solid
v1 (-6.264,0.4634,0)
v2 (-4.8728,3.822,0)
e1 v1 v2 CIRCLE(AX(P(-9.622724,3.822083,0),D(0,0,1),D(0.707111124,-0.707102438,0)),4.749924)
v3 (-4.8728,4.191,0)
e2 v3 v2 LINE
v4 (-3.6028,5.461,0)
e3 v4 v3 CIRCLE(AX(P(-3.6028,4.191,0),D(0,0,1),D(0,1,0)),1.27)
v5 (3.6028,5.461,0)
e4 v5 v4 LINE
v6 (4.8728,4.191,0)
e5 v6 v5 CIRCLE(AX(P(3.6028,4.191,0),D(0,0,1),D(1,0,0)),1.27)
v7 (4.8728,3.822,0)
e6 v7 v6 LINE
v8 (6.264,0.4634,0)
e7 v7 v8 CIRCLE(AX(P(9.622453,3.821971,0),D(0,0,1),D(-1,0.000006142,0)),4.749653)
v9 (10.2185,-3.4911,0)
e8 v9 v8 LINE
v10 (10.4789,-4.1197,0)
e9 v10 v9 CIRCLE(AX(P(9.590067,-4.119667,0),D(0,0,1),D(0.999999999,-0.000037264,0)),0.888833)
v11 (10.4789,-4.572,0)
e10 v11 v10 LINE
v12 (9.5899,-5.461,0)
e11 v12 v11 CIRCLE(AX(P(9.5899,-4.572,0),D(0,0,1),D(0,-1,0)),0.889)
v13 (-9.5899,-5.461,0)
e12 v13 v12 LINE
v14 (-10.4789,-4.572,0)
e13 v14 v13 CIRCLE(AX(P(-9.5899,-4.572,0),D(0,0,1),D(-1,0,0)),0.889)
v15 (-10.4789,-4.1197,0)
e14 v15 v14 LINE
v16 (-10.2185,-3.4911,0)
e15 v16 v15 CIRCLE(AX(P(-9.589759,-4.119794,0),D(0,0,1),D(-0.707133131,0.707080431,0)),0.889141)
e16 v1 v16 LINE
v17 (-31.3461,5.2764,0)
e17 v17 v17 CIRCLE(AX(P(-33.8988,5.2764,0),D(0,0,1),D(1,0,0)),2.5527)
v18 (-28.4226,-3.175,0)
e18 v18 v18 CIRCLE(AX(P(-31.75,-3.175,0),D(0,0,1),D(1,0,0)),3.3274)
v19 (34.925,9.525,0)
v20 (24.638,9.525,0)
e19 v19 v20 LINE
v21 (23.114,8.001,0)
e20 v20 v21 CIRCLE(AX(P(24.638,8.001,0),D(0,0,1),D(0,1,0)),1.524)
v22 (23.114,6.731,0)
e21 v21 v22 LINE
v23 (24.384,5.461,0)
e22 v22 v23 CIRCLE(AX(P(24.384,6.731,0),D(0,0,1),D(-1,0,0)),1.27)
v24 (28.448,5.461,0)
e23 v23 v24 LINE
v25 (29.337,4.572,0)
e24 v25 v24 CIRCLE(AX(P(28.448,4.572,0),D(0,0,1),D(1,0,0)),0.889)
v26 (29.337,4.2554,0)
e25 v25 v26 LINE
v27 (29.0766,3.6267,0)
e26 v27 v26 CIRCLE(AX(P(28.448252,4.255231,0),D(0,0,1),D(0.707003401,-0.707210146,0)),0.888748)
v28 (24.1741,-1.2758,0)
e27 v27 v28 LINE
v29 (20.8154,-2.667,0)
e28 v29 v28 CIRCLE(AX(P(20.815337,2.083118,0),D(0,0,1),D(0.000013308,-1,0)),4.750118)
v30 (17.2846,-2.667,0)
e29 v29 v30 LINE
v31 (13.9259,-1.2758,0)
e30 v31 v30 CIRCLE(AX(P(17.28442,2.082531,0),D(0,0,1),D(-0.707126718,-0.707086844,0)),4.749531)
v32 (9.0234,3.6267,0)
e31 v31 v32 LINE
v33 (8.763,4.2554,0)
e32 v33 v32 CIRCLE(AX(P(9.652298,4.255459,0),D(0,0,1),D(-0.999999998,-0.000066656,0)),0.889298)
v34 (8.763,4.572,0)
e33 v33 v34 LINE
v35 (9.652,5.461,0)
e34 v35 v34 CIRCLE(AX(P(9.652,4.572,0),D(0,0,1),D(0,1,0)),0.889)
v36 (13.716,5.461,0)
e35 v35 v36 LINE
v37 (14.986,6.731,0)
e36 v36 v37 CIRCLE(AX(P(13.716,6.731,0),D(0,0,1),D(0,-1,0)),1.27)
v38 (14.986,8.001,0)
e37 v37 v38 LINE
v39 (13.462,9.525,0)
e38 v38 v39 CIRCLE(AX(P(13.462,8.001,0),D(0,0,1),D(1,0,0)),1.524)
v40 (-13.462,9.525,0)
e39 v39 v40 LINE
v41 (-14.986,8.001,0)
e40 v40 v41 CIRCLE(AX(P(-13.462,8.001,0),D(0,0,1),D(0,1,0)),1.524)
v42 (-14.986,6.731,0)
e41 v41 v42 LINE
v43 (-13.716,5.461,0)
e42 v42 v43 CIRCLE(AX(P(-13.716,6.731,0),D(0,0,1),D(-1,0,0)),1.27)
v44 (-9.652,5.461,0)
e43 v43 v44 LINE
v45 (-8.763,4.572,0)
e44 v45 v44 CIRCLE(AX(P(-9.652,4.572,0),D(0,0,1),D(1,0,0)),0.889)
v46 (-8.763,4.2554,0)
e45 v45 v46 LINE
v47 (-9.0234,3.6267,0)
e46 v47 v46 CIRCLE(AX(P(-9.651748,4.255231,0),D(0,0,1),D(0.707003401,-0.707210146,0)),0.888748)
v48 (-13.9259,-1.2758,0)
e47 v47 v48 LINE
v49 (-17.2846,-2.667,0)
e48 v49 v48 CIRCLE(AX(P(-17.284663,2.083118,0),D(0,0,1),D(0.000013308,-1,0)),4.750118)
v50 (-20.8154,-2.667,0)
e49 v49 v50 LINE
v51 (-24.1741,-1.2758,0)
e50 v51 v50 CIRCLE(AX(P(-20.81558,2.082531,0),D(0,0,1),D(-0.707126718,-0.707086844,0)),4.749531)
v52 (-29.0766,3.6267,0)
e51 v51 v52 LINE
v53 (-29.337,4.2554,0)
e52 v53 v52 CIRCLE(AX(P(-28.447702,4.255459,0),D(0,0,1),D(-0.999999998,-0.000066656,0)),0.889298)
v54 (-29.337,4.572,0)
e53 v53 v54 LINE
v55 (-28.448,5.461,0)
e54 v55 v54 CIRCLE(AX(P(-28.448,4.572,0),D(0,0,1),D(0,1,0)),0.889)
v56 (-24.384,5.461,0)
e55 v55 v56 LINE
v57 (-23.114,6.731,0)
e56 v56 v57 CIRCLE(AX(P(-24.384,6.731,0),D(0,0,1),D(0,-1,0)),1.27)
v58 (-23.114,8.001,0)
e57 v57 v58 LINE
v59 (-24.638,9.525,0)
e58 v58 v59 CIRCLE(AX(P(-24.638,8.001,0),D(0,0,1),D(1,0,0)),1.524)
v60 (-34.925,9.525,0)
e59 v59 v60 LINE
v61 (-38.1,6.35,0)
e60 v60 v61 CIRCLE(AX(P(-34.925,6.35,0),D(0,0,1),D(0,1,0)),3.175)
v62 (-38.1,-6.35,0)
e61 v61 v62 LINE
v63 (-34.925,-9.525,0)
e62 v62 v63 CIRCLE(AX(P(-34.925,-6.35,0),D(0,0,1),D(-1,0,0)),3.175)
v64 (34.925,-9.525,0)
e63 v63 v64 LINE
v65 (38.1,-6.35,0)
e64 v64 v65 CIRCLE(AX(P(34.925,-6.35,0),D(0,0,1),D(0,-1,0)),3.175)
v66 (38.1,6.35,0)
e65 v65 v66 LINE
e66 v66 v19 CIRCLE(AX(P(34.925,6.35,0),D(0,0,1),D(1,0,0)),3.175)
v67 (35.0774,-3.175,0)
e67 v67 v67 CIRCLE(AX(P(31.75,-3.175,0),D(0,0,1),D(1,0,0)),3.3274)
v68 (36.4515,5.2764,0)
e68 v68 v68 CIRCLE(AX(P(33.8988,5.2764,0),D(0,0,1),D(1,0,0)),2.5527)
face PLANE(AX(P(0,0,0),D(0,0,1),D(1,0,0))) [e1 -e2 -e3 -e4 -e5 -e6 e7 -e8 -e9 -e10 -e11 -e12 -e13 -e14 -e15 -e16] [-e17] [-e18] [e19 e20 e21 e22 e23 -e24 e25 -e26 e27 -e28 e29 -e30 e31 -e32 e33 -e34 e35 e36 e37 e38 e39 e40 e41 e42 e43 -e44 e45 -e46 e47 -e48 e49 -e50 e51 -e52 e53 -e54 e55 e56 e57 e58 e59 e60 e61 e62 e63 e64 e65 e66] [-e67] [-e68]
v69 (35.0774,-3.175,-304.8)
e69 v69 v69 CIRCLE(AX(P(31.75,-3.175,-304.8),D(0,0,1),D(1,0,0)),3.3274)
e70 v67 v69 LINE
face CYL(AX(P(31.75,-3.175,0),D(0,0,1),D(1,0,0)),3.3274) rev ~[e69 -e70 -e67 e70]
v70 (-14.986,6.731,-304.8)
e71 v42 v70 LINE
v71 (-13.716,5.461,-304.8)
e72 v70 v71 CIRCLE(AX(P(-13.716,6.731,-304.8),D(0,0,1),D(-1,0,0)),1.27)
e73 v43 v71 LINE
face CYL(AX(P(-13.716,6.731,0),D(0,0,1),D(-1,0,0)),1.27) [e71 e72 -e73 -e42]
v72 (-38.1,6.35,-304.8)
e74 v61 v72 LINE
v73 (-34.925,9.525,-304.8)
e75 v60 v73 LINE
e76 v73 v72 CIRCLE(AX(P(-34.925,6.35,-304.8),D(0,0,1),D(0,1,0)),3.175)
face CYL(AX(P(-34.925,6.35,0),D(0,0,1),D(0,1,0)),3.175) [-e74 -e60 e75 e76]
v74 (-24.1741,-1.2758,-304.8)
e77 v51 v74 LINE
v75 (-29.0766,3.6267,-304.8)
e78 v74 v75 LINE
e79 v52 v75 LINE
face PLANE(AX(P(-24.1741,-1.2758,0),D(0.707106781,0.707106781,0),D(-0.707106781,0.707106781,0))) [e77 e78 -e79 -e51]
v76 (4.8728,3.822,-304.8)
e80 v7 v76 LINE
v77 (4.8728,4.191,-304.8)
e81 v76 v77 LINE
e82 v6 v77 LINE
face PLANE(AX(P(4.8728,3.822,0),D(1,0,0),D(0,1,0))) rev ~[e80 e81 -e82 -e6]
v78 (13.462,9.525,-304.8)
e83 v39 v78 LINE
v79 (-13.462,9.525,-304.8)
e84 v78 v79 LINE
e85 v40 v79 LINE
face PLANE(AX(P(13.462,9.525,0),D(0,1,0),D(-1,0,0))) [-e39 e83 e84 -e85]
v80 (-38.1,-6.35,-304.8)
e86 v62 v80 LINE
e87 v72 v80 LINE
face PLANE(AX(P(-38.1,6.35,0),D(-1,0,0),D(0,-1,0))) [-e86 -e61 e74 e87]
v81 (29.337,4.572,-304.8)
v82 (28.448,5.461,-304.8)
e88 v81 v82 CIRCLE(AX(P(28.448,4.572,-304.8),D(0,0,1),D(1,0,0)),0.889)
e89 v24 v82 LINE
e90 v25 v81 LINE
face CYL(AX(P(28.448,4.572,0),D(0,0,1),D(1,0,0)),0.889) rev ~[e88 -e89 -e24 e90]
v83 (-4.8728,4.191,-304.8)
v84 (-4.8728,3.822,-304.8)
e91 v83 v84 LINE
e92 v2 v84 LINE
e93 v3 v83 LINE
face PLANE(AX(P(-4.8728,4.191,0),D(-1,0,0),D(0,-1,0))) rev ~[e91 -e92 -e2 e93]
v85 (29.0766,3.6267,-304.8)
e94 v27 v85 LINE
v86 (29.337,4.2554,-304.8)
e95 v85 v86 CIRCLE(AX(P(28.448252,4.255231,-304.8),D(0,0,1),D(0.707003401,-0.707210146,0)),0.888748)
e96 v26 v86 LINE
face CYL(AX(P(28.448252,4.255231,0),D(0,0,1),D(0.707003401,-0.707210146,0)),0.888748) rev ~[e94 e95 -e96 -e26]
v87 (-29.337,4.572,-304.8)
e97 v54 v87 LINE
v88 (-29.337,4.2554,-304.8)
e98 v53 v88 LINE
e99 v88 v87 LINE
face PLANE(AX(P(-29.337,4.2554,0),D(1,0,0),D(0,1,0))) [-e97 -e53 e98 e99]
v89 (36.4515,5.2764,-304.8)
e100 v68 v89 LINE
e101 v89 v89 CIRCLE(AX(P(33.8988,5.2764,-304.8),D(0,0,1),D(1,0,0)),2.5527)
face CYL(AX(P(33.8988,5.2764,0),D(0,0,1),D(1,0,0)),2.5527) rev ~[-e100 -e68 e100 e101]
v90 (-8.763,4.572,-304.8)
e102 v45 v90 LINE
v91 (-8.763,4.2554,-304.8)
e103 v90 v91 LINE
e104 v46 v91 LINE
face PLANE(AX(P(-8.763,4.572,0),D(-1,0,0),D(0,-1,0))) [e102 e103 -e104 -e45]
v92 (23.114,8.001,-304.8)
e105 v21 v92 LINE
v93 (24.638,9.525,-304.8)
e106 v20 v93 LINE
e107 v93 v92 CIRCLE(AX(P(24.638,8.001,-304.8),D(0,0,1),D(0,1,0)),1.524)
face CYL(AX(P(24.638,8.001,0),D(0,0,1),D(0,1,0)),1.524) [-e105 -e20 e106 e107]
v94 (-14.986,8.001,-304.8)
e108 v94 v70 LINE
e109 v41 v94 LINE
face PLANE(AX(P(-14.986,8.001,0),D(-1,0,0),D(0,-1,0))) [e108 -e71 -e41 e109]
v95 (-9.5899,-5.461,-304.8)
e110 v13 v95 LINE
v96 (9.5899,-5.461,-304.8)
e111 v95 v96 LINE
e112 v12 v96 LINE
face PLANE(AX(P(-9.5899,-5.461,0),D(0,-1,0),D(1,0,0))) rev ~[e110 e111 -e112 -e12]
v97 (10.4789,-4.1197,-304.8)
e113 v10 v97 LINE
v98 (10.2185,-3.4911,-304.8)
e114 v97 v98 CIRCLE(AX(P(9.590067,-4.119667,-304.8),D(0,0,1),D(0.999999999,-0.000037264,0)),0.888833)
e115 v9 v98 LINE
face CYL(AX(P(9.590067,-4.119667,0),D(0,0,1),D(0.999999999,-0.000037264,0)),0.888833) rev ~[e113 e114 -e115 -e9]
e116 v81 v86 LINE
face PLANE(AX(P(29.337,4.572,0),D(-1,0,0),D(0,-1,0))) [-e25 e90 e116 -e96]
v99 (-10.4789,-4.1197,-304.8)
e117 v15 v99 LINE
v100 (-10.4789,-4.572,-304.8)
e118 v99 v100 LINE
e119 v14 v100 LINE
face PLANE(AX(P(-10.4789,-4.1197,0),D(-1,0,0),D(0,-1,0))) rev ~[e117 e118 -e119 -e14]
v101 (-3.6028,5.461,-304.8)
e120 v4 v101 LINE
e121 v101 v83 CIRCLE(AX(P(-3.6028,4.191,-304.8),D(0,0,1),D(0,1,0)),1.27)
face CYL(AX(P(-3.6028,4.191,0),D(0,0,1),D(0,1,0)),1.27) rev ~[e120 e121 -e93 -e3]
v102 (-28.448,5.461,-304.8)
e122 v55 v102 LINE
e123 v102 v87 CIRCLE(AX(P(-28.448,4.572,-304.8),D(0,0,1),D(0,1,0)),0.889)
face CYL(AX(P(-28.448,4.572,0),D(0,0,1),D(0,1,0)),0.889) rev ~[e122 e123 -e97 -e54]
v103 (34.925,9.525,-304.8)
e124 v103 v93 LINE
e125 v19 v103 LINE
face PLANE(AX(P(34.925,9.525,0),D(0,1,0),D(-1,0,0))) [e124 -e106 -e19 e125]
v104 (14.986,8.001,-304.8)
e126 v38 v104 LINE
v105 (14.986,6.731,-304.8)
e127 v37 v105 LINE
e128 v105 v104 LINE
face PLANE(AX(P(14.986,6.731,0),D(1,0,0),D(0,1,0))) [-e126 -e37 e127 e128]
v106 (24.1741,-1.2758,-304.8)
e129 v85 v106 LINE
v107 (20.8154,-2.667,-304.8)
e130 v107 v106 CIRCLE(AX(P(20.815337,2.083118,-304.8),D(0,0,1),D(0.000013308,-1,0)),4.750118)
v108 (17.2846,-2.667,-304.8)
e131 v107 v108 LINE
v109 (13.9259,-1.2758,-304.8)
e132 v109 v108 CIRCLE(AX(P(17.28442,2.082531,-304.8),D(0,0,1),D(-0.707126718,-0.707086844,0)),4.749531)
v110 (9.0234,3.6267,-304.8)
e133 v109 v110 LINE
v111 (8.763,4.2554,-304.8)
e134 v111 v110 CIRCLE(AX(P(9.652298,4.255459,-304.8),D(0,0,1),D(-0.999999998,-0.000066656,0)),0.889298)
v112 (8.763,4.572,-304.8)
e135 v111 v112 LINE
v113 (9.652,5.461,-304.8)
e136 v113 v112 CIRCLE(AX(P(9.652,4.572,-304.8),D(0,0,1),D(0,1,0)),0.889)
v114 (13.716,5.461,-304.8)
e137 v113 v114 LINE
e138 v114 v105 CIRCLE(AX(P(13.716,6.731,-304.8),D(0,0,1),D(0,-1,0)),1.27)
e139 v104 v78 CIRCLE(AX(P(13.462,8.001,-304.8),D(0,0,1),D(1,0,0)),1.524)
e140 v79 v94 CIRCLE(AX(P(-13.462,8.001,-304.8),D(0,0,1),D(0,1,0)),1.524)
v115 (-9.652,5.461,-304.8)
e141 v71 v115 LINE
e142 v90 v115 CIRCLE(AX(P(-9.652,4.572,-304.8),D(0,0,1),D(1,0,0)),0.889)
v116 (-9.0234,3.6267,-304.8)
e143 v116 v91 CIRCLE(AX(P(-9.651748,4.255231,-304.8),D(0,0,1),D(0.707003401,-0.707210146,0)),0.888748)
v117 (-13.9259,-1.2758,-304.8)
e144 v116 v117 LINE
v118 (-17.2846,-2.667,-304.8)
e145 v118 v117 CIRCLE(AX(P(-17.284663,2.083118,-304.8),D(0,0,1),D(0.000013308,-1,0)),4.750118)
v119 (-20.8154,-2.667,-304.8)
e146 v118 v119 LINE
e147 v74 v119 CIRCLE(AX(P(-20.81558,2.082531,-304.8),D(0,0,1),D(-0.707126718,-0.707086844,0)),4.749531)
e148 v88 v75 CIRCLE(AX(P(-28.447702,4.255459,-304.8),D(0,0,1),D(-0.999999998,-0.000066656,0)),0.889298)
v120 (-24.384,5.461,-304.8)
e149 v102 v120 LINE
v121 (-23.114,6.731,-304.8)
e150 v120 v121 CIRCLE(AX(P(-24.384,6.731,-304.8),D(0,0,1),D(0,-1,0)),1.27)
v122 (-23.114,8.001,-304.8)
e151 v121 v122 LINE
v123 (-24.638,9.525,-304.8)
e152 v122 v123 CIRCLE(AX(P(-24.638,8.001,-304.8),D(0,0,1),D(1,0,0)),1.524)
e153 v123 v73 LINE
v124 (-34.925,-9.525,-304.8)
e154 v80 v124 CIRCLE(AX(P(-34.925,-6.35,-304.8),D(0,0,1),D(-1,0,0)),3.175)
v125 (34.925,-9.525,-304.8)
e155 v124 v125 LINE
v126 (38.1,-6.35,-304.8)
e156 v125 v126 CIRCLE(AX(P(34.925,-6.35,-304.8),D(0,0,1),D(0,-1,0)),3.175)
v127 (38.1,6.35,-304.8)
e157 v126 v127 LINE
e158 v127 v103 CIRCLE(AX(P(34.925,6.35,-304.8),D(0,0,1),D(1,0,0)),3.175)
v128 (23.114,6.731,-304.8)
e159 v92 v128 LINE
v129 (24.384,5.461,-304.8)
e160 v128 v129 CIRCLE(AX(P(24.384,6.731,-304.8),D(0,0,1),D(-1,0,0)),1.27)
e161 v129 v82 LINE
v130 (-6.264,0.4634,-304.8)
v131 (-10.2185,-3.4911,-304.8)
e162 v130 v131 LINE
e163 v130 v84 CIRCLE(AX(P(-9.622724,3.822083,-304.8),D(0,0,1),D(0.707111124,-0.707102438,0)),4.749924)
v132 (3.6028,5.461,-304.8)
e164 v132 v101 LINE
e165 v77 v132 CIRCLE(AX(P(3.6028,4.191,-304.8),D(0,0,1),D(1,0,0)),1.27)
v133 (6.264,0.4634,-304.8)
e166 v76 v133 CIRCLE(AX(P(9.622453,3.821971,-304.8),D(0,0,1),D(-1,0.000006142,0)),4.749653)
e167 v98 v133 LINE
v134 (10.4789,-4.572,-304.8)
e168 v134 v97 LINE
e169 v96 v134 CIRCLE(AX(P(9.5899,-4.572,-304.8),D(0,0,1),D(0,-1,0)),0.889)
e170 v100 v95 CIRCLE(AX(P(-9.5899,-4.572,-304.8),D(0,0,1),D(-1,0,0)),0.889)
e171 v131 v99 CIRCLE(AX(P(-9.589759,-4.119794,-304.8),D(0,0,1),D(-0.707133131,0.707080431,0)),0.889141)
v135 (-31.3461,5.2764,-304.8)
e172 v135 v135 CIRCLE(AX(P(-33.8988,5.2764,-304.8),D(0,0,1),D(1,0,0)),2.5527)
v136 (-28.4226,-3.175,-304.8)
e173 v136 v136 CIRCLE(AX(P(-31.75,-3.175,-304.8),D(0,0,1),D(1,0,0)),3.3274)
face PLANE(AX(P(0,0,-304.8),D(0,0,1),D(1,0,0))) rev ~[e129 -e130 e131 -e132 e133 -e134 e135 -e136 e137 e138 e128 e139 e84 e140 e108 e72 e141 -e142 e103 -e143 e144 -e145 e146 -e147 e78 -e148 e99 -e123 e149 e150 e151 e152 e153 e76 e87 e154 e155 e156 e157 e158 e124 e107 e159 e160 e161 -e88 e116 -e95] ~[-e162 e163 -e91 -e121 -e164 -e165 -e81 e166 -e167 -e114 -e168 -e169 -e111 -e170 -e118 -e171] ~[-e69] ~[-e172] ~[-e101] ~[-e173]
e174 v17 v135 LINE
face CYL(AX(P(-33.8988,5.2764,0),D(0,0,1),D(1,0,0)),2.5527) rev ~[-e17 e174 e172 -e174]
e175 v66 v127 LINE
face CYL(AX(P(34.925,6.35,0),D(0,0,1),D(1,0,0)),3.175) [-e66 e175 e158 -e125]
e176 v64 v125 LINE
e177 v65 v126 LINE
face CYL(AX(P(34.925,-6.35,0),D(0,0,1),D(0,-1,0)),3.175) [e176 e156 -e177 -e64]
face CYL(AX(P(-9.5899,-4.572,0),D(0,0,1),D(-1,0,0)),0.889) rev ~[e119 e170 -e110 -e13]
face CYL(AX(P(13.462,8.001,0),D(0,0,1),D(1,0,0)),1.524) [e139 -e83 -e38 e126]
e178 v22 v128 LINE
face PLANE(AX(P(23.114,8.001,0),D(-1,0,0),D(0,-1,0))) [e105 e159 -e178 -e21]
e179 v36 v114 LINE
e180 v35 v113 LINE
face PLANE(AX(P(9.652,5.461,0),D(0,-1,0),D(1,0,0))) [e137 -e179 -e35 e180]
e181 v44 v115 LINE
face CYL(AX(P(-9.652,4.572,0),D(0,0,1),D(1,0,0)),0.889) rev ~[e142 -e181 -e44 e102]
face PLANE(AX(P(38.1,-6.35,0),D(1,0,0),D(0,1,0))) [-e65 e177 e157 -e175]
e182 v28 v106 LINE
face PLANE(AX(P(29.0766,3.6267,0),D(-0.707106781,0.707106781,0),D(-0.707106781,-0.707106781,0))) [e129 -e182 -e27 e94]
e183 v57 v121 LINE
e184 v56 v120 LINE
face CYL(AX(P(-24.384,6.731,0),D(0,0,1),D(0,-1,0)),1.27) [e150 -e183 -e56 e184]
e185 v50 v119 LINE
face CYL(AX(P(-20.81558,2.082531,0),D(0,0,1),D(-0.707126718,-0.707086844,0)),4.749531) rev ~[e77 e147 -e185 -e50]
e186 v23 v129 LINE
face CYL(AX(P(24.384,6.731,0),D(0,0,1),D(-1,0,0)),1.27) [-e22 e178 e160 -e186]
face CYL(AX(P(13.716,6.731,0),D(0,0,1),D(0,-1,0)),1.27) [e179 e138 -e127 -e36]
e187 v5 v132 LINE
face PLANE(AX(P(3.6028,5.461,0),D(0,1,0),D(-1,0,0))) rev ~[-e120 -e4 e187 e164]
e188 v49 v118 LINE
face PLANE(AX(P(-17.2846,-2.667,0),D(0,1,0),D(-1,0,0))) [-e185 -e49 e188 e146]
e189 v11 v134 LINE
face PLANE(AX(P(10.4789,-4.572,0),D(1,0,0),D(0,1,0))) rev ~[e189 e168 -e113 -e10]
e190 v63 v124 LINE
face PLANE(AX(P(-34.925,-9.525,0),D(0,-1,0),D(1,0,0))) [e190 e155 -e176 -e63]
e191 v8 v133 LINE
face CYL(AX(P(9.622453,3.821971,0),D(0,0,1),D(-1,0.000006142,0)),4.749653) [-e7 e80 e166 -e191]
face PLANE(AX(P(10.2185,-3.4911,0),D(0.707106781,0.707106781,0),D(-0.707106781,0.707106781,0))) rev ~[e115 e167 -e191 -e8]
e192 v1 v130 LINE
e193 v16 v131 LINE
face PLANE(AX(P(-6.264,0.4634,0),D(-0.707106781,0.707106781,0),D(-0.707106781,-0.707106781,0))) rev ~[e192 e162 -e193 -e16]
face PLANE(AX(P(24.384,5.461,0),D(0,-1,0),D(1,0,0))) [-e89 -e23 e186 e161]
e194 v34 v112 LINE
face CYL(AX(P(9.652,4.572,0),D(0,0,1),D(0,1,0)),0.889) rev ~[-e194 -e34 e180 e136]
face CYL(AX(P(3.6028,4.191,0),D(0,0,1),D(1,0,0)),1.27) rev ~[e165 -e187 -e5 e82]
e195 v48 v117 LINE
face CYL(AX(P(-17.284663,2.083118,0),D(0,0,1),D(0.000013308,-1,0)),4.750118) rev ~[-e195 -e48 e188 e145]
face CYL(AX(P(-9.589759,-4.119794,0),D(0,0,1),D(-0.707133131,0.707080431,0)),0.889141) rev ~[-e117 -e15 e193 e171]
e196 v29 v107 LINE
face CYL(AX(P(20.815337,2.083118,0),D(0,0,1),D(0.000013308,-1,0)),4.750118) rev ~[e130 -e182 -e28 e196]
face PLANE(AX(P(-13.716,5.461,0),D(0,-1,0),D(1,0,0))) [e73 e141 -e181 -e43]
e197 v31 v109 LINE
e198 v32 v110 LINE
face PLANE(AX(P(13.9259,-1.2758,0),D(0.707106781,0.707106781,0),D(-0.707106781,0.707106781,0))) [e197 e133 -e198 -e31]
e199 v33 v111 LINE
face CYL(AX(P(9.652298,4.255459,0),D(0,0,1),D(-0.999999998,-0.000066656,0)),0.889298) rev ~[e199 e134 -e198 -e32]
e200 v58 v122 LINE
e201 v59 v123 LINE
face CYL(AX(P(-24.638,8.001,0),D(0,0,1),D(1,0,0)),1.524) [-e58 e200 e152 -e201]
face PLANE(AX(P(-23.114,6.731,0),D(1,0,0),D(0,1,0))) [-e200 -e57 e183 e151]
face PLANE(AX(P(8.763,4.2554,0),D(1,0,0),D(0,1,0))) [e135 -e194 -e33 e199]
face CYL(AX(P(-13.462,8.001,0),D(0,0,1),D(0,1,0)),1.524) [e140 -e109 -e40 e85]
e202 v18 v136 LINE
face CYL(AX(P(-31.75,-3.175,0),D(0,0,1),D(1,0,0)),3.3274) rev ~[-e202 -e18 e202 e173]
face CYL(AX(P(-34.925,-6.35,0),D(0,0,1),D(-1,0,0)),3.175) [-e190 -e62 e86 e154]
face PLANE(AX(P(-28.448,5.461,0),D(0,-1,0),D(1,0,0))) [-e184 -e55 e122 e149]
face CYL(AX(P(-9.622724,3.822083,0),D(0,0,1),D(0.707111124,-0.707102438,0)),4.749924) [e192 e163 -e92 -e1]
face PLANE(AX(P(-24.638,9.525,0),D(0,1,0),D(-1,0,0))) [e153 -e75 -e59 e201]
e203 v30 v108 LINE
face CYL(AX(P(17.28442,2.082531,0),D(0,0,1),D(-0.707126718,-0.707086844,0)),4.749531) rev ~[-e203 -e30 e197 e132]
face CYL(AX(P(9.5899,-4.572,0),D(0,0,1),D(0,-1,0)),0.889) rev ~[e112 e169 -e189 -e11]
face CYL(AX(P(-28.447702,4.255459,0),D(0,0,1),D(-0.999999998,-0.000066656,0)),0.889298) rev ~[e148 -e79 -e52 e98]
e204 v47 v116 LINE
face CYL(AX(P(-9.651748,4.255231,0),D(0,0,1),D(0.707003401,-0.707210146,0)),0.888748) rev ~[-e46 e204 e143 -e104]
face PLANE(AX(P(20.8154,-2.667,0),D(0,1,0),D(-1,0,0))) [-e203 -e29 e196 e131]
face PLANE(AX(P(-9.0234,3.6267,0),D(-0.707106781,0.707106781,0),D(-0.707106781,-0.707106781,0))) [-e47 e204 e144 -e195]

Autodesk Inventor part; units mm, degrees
ref_plane "YZ Plane" through (0, 0, 0) normal (1, 0, 0) x (0, 1, 0)
ref_plane "XZ Plane" through (0, 0, 0) normal (0, 1, 0) x (-1, 0, 0)
ref_plane "XY Plane" through (0, 0, 0) normal (0, 0, 1) x (1, 0, 0)
sketch "Sketch1" plane through (0, 0, 0) normal (0, 0, 1) x (1, 0, 0)
  circle A0 centre (31.75, -3.175) radius 3.3274
  circle A1 centre (33.8988, 5.2764) radius 2.5527
  circle A2 centre (-33.8988, 5.2764) radius 2.5527
  circle A3 centre (-31.75, -3.175) radius 3.3274
  line L0 (-9.5899, -5.461) -> (9.5899, -5.461)
  arc A4 (-10.4789, -4.572) -> (-9.5899, -5.461) centre (-9.5899, -4.572) ccw
  line L1 (-10.4789, -4.1197) -> (-10.4789, -4.572)
  arc A5 (-10.2185, -3.4911) -> (-10.4789, -4.1197) centre (-9.5899, -4.1197) ccw
  line L2 (-6.264, 0.4634) -> (-10.2185, -3.4911)
  arc A6 (-6.264, 0.4634) -> (-4.8728, 3.822) centre (-9.6226, 3.822) ccw
  line L3 (-4.8728, 4.191) -> (-4.8728, 3.822)
  arc A7 (-3.6028, 5.461) -> (-4.8728, 4.191) centre (-3.6028, 4.191) ccw
  line L4 (3.6028, 5.461) -> (-3.6028, 5.461)
  arc A8 (4.8728, 4.191) -> (3.6028, 5.461) centre (3.6028, 4.191) ccw
  line L5 (4.8728, 3.822) -> (4.8728, 4.191)
  arc A9 (4.8728, 3.822) -> (6.264, 0.4634) centre (9.6226, 3.822) ccw
  line L6 (10.2185, -3.4911) -> (6.264, 0.4634)
  arc A10 (10.4789, -4.1197) -> (10.2185, -3.4911) centre (9.5899, -4.1197) ccw
  line L7 (10.4789, -4.572) -> (10.4789, -4.1197)
  arc A11 (9.5899, -5.461) -> (10.4789, -4.572) centre (9.5899, -4.572) ccw
  arc A12 (24.638, 9.525) -> (23.114, 8.001) centre (24.638, 8.001) ccw
  line L8 (23.114, 8.001) -> (23.114, 6.731)
  arc A13 (23.114, 6.731) -> (24.384, 5.461) centre (24.384, 6.731) ccw
  line L9 (24.384, 5.461) -> (28.448, 5.461)
  arc A14 (29.337, 4.572) -> (28.448, 5.461) centre (28.448, 4.572) ccw
  line L10 (29.337, 4.572) -> (29.337, 4.2554)
  arc A15 (29.0766, 3.6267) -> (29.337, 4.2554) centre (28.448, 4.2554) ccw
  line L11 (29.0766, 3.6267) -> (24.1741, -1.2758)
  arc A16 (20.8154, -2.667) -> (24.1741, -1.2758) centre (20.8154, 2.0828) ccw
  line L12 (20.8154, -2.667) -> (17.2846, -2.667)
  arc A17 (13.9259, -1.2758) -> (17.2846, -2.667) centre (17.2846, 2.0828) ccw
  line L13 (13.9259, -1.2758) -> (9.0234, 3.6267)
  arc A18 (8.763, 4.2554) -> (9.0234, 3.6267) centre (9.652, 4.2554) ccw
  line L14 (8.763, 4.2554) -> (8.763, 4.572)
  arc A19 (9.652, 5.461) -> (8.763, 4.572) centre (9.652, 4.572) ccw
  line L15 (9.652, 5.461) -> (13.716, 5.461)
  arc A20 (13.716, 5.461) -> (14.986, 6.731) centre (13.716, 6.731) ccw
  line L16 (14.986, 6.731) -> (14.986, 8.001)
  arc A21 (14.986, 8.001) -> (13.462, 9.525) centre (13.462, 8.001) ccw
  line L17 (13.462, 9.525) -> (-13.462, 9.525)
  arc A22 (-13.462, 9.525) -> (-14.986, 8.001) centre (-13.462, 8.001) ccw
  line L18 (-14.986, 8.001) -> (-14.986, 6.731)
  arc A23 (-14.986, 6.731) -> (-13.716, 5.461) centre (-13.716, 6.731) ccw
  line L19 (-13.716, 5.461) -> (-9.652, 5.461)
  arc A24 (-8.763, 4.572) -> (-9.652, 5.461) centre (-9.652, 4.572) ccw
  line L20 (-8.763, 4.572) -> (-8.763, 4.2554)
  arc A25 (-9.0234, 3.6267) -> (-8.763, 4.2554) centre (-9.652, 4.2554) ccw
  line L21 (-9.0234, 3.6267) -> (-13.9259, -1.2758)
  arc A26 (-17.2846, -2.667) -> (-13.9259, -1.2758) centre (-17.2846, 2.0828) ccw
  line L22 (-17.2846, -2.667) -> (-20.8154, -2.667)
  arc A27 (-24.1741, -1.2758) -> (-20.8154, -2.667) centre (-20.8154, 2.0828) ccw
  line L23 (-24.1741, -1.2758) -> (-29.0766, 3.6267)
  arc A28 (-29.337, 4.2554) -> (-29.0766, 3.6267) centre (-28.448, 4.2554) ccw
  line L24 (-29.337, 4.2554) -> (-29.337, 4.572)
  arc A29 (-28.448, 5.461) -> (-29.337, 4.572) centre (-28.448, 4.572) ccw
  line L25 (-28.448, 5.461) -> (-24.384, 5.461)
  arc A30 (-24.384, 5.461) -> (-23.114, 6.731) centre (-24.384, 6.731) ccw
  line L26 (-23.114, 6.731) -> (-23.114, 8.001)
  arc A31 (-23.114, 8.001) -> (-24.638, 9.525) centre (-24.638, 8.001) ccw
  line L27 (-24.638, 9.525) -> (-34.925, 9.525)
  arc A32 (-34.925, 9.525) -> (-38.1, 6.35) centre (-34.925, 6.35) ccw
  line L28 (-38.1, 6.35) -> (-38.1, -6.35)
  arc A33 (-38.1, -6.35) -> (-34.925, -9.525) centre (-34.925, -6.35) ccw
  line L29 (-34.925, -9.525) -> (34.925, -9.525)
  arc A34 (34.925, -9.525) -> (38.1, -6.35) centre (34.925, -6.35) ccw
  line L30 (38.1, -6.35) -> (38.1, 6.35)
  arc A35 (38.1, 6.35) -> (34.925, 9.525) centre (34.925, 6.35) ccw
  line L31 (34.925, 9.525) -> (24.638, 9.525)
  point P0 (0, 0)
extrude "Extrusion1" add sketch "Sketch1" against normal blind 304.8
properties part number "3075"
